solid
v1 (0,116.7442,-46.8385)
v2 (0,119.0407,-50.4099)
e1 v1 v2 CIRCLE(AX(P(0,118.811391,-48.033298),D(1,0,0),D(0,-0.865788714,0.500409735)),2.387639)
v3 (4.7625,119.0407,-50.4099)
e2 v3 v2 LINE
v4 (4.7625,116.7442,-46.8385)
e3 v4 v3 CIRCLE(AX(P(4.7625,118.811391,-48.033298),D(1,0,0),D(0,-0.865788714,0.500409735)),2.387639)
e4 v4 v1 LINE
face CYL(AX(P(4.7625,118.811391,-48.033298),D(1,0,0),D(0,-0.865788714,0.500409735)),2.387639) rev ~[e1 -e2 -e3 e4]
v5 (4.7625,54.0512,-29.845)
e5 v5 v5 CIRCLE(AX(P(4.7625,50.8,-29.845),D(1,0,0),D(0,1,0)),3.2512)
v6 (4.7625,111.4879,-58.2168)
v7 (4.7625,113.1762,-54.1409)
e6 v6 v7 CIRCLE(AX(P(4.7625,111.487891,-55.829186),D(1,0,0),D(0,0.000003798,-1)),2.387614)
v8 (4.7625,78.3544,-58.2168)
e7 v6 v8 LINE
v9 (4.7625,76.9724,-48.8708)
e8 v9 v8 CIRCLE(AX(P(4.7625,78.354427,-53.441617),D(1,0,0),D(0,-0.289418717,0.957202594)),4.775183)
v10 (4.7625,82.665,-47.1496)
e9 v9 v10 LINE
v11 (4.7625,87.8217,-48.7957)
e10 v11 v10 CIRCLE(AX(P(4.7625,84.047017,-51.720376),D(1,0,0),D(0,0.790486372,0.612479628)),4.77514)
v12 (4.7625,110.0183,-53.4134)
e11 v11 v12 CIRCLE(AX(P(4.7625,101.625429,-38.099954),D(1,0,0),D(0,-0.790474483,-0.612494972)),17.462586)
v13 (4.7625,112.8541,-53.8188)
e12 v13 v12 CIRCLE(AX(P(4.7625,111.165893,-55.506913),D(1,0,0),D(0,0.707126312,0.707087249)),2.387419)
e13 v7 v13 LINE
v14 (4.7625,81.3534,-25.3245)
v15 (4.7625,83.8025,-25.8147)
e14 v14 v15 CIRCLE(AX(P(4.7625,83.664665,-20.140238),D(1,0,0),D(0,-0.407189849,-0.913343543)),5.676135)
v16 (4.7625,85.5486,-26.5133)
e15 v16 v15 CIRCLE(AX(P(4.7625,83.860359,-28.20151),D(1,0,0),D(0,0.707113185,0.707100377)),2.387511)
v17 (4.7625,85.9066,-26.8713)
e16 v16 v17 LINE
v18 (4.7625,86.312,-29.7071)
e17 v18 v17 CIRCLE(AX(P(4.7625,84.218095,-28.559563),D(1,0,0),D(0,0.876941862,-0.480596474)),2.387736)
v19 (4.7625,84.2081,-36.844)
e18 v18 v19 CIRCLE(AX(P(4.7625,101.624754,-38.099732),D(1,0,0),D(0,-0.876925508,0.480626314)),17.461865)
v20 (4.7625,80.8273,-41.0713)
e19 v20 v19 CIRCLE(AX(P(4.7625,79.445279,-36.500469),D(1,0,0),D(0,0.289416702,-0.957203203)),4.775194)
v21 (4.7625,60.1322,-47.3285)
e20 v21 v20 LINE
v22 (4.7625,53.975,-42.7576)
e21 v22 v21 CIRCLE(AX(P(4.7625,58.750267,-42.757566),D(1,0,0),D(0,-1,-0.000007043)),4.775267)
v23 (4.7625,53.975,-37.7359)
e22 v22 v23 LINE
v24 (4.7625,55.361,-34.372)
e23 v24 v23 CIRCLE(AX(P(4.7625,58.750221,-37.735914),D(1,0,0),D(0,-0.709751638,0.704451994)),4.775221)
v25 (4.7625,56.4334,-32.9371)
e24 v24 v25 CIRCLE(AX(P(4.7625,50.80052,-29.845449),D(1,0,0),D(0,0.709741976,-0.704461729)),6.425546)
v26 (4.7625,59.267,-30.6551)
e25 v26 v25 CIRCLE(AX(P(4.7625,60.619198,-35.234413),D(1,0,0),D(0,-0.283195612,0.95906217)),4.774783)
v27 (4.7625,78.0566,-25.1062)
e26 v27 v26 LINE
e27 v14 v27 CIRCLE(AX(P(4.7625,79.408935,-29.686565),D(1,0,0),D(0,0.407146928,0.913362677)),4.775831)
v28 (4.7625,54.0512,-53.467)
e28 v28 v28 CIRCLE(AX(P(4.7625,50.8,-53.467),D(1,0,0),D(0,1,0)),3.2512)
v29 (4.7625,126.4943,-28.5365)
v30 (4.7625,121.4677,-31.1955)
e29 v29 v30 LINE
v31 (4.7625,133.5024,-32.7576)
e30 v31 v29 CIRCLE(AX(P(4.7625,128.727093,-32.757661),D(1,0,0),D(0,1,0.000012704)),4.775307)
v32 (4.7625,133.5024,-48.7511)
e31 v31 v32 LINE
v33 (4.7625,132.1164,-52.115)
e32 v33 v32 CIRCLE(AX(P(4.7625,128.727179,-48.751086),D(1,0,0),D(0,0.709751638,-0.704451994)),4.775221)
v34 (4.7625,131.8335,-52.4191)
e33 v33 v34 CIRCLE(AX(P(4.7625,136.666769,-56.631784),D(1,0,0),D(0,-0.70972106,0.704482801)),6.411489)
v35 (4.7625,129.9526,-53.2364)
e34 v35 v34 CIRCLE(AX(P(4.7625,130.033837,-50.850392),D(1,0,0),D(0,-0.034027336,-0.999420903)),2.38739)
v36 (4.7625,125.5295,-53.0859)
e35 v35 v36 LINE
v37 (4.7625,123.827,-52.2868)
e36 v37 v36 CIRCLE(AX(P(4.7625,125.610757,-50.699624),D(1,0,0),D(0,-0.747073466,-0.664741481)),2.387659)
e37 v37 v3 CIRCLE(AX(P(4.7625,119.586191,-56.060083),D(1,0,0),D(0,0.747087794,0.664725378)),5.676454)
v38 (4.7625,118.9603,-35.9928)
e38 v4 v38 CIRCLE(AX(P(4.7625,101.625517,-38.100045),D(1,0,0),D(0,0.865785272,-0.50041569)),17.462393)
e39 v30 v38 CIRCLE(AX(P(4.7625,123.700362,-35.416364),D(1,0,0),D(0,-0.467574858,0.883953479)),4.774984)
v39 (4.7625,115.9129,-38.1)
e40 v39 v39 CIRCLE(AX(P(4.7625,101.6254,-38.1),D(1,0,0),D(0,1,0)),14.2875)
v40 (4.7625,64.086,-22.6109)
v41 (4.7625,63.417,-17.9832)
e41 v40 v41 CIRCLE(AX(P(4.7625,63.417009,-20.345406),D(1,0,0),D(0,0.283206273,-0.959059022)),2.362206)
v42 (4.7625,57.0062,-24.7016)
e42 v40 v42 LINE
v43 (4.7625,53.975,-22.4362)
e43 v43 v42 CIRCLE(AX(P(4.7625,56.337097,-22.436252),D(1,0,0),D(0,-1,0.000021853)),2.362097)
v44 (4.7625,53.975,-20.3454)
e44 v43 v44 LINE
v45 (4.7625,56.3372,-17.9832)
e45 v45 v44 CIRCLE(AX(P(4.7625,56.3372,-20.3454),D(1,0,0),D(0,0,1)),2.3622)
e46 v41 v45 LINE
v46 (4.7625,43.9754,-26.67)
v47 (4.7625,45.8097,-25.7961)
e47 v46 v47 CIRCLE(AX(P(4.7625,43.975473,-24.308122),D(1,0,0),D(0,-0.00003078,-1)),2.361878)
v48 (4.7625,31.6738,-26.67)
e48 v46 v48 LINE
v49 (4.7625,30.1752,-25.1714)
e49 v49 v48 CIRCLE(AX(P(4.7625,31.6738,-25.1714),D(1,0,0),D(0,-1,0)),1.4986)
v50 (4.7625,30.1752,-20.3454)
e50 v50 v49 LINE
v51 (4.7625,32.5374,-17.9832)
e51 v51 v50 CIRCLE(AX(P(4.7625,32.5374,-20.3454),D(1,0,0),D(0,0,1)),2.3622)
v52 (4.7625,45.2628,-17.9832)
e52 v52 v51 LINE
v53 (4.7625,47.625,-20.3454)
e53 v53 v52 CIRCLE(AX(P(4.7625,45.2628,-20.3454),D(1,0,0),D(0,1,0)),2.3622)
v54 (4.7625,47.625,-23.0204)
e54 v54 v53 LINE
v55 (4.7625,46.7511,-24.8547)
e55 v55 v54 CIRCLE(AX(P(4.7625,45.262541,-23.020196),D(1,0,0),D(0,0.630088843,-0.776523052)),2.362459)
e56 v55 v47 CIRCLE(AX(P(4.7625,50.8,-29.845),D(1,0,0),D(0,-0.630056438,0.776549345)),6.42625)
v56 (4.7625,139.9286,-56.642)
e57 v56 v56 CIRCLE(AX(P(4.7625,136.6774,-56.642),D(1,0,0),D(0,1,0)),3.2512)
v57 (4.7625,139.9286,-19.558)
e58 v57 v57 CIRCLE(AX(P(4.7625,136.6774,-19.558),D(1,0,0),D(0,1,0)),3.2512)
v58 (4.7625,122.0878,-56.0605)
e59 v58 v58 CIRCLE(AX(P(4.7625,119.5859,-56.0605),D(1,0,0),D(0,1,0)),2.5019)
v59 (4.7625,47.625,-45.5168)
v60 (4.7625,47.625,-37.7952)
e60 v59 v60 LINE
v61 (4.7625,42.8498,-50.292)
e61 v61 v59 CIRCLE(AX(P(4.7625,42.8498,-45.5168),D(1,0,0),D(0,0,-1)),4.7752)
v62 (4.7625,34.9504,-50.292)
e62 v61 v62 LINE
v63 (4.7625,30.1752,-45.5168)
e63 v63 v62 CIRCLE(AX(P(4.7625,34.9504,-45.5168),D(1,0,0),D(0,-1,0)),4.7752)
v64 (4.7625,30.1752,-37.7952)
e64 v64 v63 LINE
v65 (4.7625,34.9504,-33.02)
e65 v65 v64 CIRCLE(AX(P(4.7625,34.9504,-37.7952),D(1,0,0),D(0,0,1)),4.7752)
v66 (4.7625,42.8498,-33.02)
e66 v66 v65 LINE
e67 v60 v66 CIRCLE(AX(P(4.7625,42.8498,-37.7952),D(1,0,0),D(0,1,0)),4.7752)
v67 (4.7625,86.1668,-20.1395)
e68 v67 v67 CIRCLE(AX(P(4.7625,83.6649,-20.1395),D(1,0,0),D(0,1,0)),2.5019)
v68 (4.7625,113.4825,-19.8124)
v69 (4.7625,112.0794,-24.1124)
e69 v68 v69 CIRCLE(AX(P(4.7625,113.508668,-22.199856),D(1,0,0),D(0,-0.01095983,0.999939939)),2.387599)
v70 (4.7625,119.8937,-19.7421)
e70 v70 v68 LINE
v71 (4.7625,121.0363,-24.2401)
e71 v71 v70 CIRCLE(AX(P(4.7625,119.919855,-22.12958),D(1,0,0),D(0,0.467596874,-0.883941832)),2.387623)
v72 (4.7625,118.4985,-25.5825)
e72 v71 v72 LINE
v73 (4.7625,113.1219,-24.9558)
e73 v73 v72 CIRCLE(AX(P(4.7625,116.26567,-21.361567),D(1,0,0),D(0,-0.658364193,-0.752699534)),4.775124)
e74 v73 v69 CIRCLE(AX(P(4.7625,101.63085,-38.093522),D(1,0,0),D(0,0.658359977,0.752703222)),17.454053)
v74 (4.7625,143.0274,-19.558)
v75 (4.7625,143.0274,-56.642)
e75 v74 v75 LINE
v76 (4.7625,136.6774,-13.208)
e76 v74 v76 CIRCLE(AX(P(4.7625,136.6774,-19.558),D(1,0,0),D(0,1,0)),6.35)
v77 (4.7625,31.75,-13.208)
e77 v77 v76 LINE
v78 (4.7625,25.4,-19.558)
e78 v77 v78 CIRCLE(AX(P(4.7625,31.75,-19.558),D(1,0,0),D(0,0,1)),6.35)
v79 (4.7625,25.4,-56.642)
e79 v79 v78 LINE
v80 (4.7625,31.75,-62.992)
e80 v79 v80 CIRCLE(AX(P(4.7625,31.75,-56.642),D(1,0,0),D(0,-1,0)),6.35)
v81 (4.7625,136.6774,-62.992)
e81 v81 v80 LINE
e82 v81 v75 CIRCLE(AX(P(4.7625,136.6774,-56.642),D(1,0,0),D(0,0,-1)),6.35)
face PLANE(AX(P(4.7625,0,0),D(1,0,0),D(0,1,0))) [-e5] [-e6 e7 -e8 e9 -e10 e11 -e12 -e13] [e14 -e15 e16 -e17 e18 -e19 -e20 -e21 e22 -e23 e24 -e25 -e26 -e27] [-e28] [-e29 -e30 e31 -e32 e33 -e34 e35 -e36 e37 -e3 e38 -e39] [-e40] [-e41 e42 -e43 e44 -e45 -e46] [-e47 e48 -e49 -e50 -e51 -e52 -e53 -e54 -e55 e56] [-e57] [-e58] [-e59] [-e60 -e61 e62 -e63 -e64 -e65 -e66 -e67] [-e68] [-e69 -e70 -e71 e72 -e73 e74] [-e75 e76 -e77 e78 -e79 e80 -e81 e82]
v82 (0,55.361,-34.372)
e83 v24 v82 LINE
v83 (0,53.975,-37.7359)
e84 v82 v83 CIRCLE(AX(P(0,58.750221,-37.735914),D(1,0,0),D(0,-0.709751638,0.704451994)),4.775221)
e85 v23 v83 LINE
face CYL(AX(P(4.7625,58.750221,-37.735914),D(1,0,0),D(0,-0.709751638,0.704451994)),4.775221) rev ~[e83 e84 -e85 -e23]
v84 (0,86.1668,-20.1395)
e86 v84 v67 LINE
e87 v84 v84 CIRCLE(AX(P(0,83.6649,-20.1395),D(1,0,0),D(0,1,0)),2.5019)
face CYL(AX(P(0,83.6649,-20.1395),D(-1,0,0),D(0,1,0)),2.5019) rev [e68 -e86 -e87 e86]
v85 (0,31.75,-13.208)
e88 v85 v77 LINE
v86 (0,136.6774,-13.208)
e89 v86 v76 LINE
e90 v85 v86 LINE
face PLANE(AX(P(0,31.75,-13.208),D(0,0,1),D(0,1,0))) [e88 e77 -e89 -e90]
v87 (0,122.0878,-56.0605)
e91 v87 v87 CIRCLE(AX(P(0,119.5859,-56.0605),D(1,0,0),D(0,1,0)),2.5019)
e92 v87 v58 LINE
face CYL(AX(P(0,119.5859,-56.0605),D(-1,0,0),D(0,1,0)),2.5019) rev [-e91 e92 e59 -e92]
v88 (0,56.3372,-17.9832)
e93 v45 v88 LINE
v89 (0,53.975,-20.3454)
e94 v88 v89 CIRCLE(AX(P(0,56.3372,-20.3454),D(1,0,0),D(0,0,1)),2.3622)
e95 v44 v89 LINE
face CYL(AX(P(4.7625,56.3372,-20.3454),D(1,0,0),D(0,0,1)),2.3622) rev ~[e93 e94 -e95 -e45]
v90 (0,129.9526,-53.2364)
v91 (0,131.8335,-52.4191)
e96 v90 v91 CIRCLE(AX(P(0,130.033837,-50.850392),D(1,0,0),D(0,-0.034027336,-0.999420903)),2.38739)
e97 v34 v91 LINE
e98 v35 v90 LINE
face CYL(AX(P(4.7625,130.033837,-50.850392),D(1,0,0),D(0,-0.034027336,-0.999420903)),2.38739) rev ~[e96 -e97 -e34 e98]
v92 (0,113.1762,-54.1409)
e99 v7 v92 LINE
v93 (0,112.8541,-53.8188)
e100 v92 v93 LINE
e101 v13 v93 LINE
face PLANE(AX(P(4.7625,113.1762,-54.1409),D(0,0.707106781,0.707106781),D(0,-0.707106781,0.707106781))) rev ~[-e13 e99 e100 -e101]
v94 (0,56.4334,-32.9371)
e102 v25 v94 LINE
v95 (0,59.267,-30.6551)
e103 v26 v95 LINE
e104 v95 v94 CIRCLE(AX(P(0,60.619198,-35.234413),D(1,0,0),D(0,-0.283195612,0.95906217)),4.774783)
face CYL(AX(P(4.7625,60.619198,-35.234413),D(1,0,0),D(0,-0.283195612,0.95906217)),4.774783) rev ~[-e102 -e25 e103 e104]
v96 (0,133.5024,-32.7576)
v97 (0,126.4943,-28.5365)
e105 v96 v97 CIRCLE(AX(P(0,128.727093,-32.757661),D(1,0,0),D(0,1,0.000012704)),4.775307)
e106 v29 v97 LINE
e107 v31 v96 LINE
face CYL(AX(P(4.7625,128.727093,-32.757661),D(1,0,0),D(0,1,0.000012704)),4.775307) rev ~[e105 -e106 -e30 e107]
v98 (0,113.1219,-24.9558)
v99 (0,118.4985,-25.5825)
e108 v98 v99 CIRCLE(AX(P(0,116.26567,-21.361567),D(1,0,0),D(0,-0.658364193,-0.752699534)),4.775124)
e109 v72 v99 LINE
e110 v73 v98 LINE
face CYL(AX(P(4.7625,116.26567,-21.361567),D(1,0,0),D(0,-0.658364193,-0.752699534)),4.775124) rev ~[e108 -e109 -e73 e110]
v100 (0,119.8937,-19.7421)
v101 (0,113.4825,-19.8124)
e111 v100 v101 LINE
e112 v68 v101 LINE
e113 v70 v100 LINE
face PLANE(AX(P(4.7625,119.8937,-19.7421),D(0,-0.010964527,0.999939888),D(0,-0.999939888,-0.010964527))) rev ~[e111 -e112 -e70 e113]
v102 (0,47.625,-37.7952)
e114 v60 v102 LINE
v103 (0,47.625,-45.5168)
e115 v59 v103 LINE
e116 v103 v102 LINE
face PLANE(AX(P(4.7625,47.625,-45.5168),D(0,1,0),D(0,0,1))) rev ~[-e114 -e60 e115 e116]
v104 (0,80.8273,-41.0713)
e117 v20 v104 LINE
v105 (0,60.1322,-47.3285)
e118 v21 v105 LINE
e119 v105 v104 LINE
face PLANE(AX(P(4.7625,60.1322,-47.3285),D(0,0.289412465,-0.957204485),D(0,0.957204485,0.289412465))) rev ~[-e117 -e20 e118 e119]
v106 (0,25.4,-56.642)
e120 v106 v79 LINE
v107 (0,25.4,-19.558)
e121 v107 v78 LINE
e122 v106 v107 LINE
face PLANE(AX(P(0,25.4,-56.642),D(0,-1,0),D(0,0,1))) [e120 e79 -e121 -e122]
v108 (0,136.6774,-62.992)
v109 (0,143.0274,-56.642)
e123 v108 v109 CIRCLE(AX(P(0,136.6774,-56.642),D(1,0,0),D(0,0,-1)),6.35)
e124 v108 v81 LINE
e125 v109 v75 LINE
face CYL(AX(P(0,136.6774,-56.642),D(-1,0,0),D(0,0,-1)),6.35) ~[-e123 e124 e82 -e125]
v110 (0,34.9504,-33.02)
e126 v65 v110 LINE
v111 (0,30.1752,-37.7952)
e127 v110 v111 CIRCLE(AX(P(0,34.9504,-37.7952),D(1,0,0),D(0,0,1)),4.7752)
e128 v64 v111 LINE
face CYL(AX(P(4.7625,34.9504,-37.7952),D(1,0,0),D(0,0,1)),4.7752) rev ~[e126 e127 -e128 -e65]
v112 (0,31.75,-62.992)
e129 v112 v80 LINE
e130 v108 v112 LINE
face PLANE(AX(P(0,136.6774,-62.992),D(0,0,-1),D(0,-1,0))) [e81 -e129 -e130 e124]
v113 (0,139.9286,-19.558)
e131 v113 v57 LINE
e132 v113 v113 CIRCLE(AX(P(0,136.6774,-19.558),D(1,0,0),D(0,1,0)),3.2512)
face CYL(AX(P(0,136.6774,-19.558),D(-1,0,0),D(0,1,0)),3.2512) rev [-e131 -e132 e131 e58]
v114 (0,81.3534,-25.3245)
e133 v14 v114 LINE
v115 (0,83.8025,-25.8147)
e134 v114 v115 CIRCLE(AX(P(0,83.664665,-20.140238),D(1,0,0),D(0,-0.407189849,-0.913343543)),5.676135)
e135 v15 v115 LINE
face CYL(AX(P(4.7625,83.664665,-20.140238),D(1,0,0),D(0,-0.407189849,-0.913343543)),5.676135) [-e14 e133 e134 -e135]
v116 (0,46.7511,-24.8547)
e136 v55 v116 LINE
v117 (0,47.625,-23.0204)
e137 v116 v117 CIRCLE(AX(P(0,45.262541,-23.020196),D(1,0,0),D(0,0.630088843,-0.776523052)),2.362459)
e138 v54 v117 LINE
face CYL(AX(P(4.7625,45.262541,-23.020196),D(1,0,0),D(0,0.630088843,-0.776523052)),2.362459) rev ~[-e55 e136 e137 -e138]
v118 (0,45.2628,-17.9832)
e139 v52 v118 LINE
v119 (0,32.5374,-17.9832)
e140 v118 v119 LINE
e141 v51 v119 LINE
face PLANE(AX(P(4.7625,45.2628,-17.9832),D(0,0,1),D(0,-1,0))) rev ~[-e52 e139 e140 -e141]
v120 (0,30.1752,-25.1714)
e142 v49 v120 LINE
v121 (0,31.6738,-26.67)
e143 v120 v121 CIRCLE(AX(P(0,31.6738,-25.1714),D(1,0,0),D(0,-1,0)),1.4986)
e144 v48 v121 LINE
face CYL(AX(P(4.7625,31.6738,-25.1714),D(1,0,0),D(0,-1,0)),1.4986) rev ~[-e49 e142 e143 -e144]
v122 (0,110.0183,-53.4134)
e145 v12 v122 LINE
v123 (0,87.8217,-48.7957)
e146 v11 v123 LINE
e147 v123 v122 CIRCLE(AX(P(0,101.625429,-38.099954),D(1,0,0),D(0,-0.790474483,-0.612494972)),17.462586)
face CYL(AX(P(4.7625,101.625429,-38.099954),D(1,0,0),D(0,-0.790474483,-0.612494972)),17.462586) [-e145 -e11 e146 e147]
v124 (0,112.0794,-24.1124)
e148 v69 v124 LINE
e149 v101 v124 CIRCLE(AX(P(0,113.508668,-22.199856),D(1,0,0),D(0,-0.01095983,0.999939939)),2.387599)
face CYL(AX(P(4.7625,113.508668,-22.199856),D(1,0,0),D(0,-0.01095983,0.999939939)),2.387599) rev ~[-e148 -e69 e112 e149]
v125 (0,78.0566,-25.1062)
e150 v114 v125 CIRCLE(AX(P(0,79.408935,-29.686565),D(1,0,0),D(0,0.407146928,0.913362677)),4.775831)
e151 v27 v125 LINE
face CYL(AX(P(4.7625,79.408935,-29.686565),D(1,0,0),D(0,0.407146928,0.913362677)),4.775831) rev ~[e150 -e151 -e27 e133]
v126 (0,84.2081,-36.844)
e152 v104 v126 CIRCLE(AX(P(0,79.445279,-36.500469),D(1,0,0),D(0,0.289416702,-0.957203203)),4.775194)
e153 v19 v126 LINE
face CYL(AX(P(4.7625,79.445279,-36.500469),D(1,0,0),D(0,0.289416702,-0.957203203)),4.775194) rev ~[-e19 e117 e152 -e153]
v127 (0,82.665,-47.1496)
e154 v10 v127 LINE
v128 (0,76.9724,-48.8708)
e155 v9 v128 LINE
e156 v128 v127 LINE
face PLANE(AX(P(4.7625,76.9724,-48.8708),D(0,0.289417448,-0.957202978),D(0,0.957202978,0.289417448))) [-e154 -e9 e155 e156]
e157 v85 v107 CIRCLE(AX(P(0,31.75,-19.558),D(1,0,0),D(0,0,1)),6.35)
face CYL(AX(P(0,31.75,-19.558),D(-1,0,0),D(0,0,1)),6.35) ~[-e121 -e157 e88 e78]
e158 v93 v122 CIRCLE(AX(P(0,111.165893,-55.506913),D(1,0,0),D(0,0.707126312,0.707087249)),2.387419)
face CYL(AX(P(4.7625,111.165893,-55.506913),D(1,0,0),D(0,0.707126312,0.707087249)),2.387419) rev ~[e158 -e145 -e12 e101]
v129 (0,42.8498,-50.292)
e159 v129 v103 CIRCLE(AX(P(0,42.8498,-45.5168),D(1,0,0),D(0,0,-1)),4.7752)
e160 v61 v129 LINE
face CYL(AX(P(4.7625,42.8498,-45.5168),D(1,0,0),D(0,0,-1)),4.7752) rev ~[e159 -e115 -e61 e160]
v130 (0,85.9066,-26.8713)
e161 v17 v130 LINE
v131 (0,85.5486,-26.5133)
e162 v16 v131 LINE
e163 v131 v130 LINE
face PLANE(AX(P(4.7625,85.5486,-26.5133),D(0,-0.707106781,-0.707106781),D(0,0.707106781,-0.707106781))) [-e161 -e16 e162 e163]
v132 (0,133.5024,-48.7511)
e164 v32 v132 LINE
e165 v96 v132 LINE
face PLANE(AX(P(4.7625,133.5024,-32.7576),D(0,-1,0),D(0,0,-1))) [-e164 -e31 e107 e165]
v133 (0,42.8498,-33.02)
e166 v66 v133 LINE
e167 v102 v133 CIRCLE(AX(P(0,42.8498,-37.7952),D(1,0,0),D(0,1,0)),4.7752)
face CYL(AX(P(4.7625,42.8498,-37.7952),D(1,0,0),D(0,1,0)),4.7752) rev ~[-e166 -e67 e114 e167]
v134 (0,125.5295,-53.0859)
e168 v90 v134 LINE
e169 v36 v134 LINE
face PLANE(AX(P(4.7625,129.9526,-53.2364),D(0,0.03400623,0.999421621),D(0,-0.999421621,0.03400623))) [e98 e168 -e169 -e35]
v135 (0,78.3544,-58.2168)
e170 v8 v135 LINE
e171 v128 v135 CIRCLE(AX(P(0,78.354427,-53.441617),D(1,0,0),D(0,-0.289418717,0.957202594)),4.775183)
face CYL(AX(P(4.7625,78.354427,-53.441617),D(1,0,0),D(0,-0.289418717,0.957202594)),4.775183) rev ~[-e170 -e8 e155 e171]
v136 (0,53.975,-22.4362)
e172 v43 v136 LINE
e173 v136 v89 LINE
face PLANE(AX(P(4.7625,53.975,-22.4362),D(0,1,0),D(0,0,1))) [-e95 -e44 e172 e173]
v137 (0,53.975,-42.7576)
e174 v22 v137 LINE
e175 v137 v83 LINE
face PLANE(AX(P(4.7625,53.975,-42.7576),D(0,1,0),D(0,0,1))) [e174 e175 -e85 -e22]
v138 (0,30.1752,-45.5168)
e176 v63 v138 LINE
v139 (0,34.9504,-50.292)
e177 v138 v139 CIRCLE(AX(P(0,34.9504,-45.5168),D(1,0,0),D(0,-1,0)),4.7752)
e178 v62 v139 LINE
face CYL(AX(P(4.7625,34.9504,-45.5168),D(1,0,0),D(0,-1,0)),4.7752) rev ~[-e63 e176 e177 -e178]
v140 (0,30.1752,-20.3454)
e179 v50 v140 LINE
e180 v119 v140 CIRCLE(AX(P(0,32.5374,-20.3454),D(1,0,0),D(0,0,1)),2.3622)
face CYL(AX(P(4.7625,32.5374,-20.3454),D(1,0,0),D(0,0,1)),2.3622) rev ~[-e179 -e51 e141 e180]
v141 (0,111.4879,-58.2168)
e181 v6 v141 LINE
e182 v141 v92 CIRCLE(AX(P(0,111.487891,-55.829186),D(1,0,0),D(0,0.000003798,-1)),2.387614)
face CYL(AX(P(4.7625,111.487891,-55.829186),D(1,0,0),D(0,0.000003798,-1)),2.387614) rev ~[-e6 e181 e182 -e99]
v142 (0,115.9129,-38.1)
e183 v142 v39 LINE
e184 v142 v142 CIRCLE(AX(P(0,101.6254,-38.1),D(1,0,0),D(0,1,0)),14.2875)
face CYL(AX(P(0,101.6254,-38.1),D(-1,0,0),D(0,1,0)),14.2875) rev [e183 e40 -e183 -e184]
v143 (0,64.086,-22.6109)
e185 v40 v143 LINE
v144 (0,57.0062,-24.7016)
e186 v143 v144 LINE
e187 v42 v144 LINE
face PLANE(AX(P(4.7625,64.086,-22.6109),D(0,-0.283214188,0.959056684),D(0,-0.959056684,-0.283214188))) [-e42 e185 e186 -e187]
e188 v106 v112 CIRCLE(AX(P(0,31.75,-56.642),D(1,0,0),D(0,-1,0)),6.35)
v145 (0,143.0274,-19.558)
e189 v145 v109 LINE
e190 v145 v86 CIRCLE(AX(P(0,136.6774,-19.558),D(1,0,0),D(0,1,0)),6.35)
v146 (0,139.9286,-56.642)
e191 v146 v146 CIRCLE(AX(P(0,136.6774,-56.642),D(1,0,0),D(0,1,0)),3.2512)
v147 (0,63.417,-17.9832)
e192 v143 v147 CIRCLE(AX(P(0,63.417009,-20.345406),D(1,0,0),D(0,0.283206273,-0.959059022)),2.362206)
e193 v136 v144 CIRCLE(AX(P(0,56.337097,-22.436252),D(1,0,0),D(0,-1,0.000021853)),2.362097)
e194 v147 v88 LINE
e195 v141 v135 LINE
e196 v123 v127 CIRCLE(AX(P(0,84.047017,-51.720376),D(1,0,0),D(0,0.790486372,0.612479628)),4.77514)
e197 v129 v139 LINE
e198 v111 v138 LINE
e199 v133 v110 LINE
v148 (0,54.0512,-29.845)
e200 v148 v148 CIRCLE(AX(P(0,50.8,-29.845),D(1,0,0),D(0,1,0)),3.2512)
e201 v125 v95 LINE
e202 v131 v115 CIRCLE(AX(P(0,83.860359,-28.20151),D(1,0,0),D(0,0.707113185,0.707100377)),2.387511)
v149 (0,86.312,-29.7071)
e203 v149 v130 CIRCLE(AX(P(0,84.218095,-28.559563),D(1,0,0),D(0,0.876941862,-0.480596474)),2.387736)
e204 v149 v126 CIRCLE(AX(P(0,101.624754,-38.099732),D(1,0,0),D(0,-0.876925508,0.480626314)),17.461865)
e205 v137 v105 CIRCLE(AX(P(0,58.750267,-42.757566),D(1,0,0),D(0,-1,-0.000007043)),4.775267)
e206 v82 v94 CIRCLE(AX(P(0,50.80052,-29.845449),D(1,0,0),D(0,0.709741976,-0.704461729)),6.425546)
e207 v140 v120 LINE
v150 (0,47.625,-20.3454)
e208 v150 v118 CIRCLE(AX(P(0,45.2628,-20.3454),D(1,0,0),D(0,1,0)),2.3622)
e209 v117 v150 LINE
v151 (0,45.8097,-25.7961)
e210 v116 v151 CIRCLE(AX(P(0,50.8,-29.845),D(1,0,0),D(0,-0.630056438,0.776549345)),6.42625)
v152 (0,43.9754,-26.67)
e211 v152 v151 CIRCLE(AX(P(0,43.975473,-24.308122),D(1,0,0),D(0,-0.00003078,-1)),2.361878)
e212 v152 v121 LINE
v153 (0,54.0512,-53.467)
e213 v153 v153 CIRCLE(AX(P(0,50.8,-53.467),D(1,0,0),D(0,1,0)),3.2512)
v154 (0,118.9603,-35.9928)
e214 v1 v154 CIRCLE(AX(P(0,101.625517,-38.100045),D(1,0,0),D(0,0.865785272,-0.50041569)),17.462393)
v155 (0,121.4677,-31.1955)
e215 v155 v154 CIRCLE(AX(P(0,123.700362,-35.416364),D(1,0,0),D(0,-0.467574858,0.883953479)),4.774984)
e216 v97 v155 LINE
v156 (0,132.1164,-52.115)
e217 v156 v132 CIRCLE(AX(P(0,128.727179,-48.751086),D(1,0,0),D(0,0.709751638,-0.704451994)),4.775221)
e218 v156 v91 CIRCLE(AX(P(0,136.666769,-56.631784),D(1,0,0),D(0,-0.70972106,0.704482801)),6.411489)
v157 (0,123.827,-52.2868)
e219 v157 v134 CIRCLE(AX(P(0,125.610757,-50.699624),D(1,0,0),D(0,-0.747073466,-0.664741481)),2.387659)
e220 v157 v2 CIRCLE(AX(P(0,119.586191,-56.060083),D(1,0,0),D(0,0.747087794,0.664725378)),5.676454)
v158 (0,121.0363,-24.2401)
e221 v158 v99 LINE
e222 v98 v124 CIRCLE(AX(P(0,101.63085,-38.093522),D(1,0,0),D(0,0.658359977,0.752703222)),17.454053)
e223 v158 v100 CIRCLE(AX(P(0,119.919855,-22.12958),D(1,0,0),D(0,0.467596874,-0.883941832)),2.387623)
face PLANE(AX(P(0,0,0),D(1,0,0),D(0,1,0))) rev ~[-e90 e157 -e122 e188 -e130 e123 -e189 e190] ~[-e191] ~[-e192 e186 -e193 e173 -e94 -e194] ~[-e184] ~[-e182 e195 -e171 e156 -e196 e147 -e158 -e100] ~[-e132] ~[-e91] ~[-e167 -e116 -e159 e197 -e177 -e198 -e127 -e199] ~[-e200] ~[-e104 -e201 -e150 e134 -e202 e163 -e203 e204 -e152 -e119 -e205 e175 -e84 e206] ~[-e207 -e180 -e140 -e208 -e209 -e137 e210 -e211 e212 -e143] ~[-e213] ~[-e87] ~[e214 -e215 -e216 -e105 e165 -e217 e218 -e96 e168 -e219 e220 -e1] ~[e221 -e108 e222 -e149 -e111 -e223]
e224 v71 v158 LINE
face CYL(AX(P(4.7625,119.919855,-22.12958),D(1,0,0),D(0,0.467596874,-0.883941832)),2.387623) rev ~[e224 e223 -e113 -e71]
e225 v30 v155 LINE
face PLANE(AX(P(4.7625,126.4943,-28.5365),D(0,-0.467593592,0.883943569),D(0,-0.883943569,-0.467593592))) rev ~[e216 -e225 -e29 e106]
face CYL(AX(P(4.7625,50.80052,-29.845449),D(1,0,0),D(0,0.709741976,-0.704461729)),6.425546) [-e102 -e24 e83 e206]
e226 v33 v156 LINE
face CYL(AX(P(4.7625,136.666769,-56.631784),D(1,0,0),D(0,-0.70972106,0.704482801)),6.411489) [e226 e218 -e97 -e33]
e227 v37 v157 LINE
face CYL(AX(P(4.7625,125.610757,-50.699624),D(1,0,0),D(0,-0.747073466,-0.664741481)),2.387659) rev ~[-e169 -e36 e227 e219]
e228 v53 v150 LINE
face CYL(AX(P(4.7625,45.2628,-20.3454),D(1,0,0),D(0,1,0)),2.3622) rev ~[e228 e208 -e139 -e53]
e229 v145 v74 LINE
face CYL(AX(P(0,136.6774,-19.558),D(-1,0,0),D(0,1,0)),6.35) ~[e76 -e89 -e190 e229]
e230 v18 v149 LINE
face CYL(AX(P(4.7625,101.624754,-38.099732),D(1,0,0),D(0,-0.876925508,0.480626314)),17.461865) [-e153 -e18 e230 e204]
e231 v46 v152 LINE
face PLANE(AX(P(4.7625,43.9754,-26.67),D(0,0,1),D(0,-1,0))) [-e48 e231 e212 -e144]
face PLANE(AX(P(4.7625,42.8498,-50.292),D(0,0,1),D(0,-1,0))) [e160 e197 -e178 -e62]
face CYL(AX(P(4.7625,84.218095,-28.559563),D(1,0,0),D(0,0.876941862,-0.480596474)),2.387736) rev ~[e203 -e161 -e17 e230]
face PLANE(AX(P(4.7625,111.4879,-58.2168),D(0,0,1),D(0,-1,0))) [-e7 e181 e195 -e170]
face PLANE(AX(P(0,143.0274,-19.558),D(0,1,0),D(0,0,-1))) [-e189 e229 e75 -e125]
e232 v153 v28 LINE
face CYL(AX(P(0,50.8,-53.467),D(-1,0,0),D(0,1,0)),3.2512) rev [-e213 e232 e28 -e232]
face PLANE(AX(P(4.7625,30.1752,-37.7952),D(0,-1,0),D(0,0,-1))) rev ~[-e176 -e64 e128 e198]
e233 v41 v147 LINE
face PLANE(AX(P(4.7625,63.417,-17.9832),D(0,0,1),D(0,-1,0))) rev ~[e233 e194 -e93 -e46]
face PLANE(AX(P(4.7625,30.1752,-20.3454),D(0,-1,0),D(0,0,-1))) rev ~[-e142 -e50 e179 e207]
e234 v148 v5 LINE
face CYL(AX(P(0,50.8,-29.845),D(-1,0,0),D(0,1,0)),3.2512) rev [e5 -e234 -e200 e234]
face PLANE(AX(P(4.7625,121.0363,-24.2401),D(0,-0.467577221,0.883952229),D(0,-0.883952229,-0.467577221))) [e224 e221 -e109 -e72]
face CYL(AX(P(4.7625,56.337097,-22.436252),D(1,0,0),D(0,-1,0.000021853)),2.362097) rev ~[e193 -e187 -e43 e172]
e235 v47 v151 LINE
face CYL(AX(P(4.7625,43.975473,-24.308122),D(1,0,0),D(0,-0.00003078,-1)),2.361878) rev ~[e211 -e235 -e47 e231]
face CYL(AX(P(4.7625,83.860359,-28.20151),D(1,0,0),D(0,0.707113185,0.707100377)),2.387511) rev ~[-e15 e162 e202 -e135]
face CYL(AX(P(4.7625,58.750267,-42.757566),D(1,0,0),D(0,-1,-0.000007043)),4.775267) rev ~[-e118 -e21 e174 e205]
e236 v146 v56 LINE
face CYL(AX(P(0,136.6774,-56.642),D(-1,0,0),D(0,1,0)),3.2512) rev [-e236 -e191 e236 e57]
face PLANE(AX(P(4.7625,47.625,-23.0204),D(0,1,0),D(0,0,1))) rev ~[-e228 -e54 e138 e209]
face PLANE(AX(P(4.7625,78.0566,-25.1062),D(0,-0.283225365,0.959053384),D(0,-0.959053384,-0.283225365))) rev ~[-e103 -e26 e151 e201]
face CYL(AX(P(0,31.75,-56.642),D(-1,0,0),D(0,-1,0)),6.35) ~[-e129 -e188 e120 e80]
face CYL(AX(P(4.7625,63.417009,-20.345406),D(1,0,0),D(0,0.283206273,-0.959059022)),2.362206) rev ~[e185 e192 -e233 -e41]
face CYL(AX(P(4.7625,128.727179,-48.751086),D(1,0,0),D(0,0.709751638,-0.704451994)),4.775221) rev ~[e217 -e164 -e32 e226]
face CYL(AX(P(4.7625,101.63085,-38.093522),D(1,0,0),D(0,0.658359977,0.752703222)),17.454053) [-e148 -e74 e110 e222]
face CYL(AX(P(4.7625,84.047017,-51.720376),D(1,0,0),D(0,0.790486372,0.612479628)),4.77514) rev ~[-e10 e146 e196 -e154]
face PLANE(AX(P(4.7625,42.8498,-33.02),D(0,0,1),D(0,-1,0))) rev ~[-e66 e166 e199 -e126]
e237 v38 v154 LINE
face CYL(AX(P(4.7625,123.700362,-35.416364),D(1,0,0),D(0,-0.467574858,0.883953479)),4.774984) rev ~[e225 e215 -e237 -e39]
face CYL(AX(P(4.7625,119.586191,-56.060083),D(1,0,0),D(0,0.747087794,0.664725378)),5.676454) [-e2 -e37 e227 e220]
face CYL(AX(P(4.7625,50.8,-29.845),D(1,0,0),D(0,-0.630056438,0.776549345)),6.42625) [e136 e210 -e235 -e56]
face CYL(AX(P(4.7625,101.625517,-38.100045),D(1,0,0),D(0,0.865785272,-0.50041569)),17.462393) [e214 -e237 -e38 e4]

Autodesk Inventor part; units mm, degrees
ref_plane "YZ Plane" through (0, 0, 0) normal (1, 0, 0) x (0, 1, 0)
ref_plane "XZ Plane" through (0, 0, 0) normal (0, 1, 0) x (-1, 0, 0)
ref_plane "XY Plane" through (0, 0, 0) normal (0, 0, 1) x (1, 0, 0)
sketch "Sketch1" plane through (0, 0, 0) normal (1, 0, 0) x (0, 1, 0)
  line L0 (0, 0) -> (457.2, 0) construction
  line L1 (457.2, 0) -> (457.2, 25.4) construction
  line L2 (457.2, 25.4) -> (0, 25.4) construction
  line L3 (0, 25.4) -> (0, 0) construction
  line L4 (0, 0) -> (25.4, 0) construction
  line L5 (25.4, 0) -> (25.4, -279.4) construction
  line L6 (25.4, -279.4) -> (0, -279.4) construction
  line L7 (0, -279.4) -> (0, 0) construction
  line L8 (0, 0) -> (25.4, 0) construction
  line L9 (25.4, 0) -> (25.4, -19.05) construction
  line L10 (25.4, -19.05) -> (0, -19.05) construction
  line L11 (0, -19.05) -> (0, 0) construction
  line L12 (25.4, -279.4) -> (0, -279.4) construction
  line L13 (0, -279.4) -> (0, -260.35) construction
  line L14 (0, -260.35) -> (25.4, -260.35) construction
  line L15 (25.4, -260.35) -> (25.4, -279.4) construction
  circle A0 centre (101.6254, -38.1) radius 14.2875
  line L16 (83.6649, -20.1395) -> (119.5859, -56.0605) construction
  line L17 (101.6254, -38.1) -> (101.6254, -52.3875) construction
  circle A1 centre (119.5859, -56.0605) radius 2.5019
  circle A2 centre (83.6649, -20.1395) radius 2.5019
  line L18 (25.4, -20.32) -> (57.15, -20.32) construction
  line L19 (57.15, -20.32) -> (57.15, -39.37) construction
  line L20 (57.15, -39.37) -> (25.4, -39.37) construction
  line L21 (25.4, -39.37) -> (25.4, -20.32) construction
  circle A3 centre (50.8, -29.845) radius 3.2512
  circle A4 centre (136.6774, -19.558) radius 6.35 construction
  circle A5 centre (136.6774, -19.558) radius 3.2512
  line L22 (72.9234, -13.208) -> (130.3274, -13.208) construction
  line L23 (130.3274, -13.208) -> (130.3274, -62.992) construction
  line L24 (130.3274, -62.992) -> (72.9234, -62.992) construction
  line L25 (72.9234, -62.992) -> (72.9234, -13.208) construction
  line L26 (25.4, -43.942) -> (57.15, -43.942) construction
  line L27 (57.15, -43.942) -> (57.15, -62.992) construction
  line L28 (57.15, -62.992) -> (25.4, -62.992) construction
  line L29 (25.4, -62.992) -> (25.4, -43.942) construction
  circle A6 centre (50.8, -53.467) radius 3.2512
  circle A7 centre (136.6774, -56.642) radius 6.35 construction
  circle A8 centre (136.6774, -56.642) radius 3.2512
  line L30 (136.6774, -62.992) -> (31.75, -62.992)
  line L31 (25.4, -56.642) -> (25.4, -19.558)
  line L32 (31.75, -13.208) -> (136.6774, -13.208)
  arc A9 (31.75, -13.208) -> (25.4, -19.558) centre (31.75, -19.558) ccw
  arc A10 (25.4, -56.642) -> (31.75, -62.992) centre (31.75, -56.642) ccw
  line L33 (143.0274, -19.558) -> (143.0274, -56.642)
  arc A11 (136.6774, -62.992) -> (143.0274, -56.642) centre (136.6774, -56.642) ccw
  arc A12 (143.0274, -19.558) -> (136.6774, -13.208) centre (136.6774, -19.558) ccw
  point P0 (83.6649, -17.6376)
  point P1 (101.6254, -38.1)
  point P2 (101.6254, -62.992)
  point P3 (25.4, -62.992)
  point P4 (25.4, -13.208)
  dimension "d7" = 28.575
  dimension "d14" = 5.0038
  dimension "d0" = 457.2
  dimension "d1" = 25.4
  dimension "d2" = 25.4
  dimension "d3" = 279.4
  dimension "d5" = 19.05
  dimension "d8" = 101.6254
  dimension "d9" = 38.1
  dimension "d10" = 50.8
  dimension "d11" = 25.4
  dimension "d12" = 45
  dimension "d13" = 5.0038
  dimension "d15" = 31.75
  dimension "d16" = 19.05
  dimension "d18" = 6.5024
  dimension "d19" = 9.525
  dimension "d20" = 6.35
  dimension "d27" = 12.7
  dimension "d28" = 6.5024
  dimension "d34" = 49.784
  dimension "d35" = 57.404
  dimension "d36" = 24.892
  dimension "d37" = 28.702
  dimension "d46" = 31.75
  dimension "d47" = 19.05
  dimension "d48" = 6.5024
  dimension "d49" = 9.525
  dimension "d50" = 6.35
  dimension "d51" = 12.7
  dimension "d52" = 6.5024
  dimension "d53" = 6.35
  dimension "d128" = 29.845
  dimension "d129" = 19.05
  dimension "d130" = 53.467
extrude "Extrusion2" add sketch "Sketch1" along normal blind 4.7625
sketch "Sketch2" plane through (4.7625, 0, 0) normal (1, 0, 0) x (0, 0, -1)
  line L0 (13.208, 136.6774) -> (13.208, 31.75) construction
  arc A0 (13.208, 31.75) -> (19.558, 25.4) centre (19.558, 31.75) ccw construction
  line L1 (19.558, 25.4) -> (56.642, 25.4) construction
  arc A1 (56.642, 25.4) -> (62.992, 31.75) centre (56.642, 31.75) ccw construction
  line L2 (62.992, 31.75) -> (62.992, 136.6774) construction
  arc A2 (62.992, 136.6774) -> (56.642, 143.0274) centre (56.642, 136.6774) ccw construction
  line L3 (56.642, 143.0274) -> (19.558, 143.0274) construction
  arc A3 (19.558, 143.0274) -> (13.208, 136.6774) centre (19.558, 136.6774) ccw construction
  circle A4 centre (38.1, 101.6254) radius 14.2875 construction
  circle A5 centre (56.0605, 119.5859) radius 2.5019 construction
  circle A6 centre (20.1395, 83.6649) radius 2.5019 construction
  circle A7 centre (29.845, 50.8) radius 3.2512 construction
  circle A8 centre (53.467, 50.8) radius 3.2512 construction
  circle A9 centre (56.642, 136.6774) radius 3.2512 construction
  circle A10 centre (19.558, 136.6774) radius 3.2512 construction
  line L4 (19.558, 138.2522) -> (56.642, 138.2522) construction
  arc A11 (58.2168, 136.6774) -> (56.642, 138.2522) centre (56.642, 136.6774) ccw construction
  line L5 (58.2168, 136.6774) -> (58.2168, 31.75) construction
  arc A12 (56.642, 30.1752) -> (58.2168, 31.75) centre (56.642, 31.75) ccw construction
  line L6 (56.642, 30.1752) -> (19.558, 30.1752) construction
  arc A13 (17.9832, 31.75) -> (19.558, 30.1752) centre (19.558, 31.75) ccw construction
  line L7 (17.9832, 31.75) -> (17.9832, 136.6774) construction
  arc A14 (19.558, 138.2522) -> (17.9832, 136.6774) centre (19.558, 136.6774) ccw construction
  circle A15 centre (19.558, 136.6774) radius 6.4262 construction
  circle A16 centre (56.642, 136.6774) radius 6.4262 construction
  circle A17 centre (56.0605, 119.5859) radius 5.6769 construction
  circle A18 centre (38.1, 101.6254) radius 17.4625 construction
  circle A19 centre (20.1395, 83.6649) radius 5.6769 construction
  circle A20 centre (29.845, 50.8) radius 6.4262 construction
  circle A21 centre (53.467, 50.8) radius 6.4262 construction
  line L8 (22.5628, 130.997) -> (29.9347, 117.0613) construction
  line L9 (56.4235, 130.2549) -> (56.2535, 125.2595) construction
  line L10 (52.0463, 115.5717) -> (50.4479, 113.9733) construction
  line L11 (53.2364, 129.9526) -> (53.0859, 125.5295)
  line L12 (19.6285, 130.2516) -> (20.0772, 89.3414) construction
  line L13 (28.5365, 126.4943) -> (31.1955, 121.4677)
  line L14 (25.9842, 136.6774) -> (50.2158, 136.6774) construction
  line L15 (32.7576, 133.5024) -> (48.7511, 133.5024)
  arc A22 (46.8385, 116.7442) -> (35.9928, 118.9603) centre (38.1, 101.6254) ccw
  arc A23 (52.2868, 123.827) -> (50.4099, 119.0407) centre (56.0605, 119.5859) ccw
  arc A24 (24.977, 133.2233) -> (25.1451, 133.5024) centre (19.558, 136.6774) ccw
  arc A25 (52.115, 132.1164) -> (52.4191, 131.8335) centre (56.642, 136.6774) ccw
  arc A26 (52.115, 132.1164) -> (48.7511, 133.5024) centre (48.7511, 128.7272) ccw
  arc A27 (32.7576, 133.5024) -> (28.5365, 126.4943) centre (32.7576, 128.7272) ccw
  arc A28 (31.1955, 121.4677) -> (35.9928, 118.9603) centre (35.4166, 123.7006) ccw
  circle A29 centre (48.0333, 118.8113) radius 2.3876 construction
  arc A30 (46.8385, 116.7442) -> (50.4099, 119.0407) centre (48.0333, 118.8113) ccw
  circle A31 centre (50.8502, 130.0338) radius 2.3876 construction
  circle A32 centre (50.6997, 125.6107) radius 2.3876 construction
  arc A33 (53.2364, 129.9526) -> (52.4191, 131.8335) centre (50.8502, 130.0338) ccw
  arc A34 (52.2868, 123.827) -> (53.0859, 125.5295) centre (50.6997, 125.6107) ccw
  line L16 (21.7473, 78.2204) -> (28.0249, 56.9631) construction
  line L17 (47.0408, 50.8) -> (36.2712, 50.8) construction
  line L18 (51.6072, 56.9512) -> (43.1538, 84.9102) construction
  line L19 (23.4188, 50.8) -> (17.9832, 50.8) construction
  line L20 (29.845, 44.3738) -> (29.845, 30.1752) construction
  line L21 (53.467, 44.3738) -> (53.467, 30.1752) construction
  line L22 (45.5168, 47.625) -> (37.7952, 47.625)
  line L23 (33.02, 42.8498) -> (33.02, 34.9504)
  line L24 (50.292, 42.8498) -> (50.292, 34.9504)
  line L25 (20.6386, 101.4339) -> (19.9447, 101.4263) construction
  line L26 (24.2401, 121.0363) -> (25.5825, 118.4985)
  arc A35 (24.9558, 113.1219) -> (24.1124, 112.0794) centre (38.1, 101.6254) ccw
  line L27 (19.7421, 119.8937) -> (19.8124, 113.4825)
  circle A36 centre (22.1296, 119.9199) radius 2.3876 construction
  arc A37 (24.9558, 113.1219) -> (25.5825, 118.4985) centre (21.3615, 116.2657) ccw
  arc A38 (24.2401, 121.0363) -> (19.7421, 119.8937) centre (22.1296, 119.9199) ccw
  circle A39 centre (22.1999, 113.5087) radius 2.3876 construction
  arc A40 (19.8124, 113.4825) -> (24.1124, 112.0794) centre (22.1999, 113.5087) ccw
  arc A41 (33.02, 45.2129) -> (35.4321, 47.625) centre (29.845, 50.8) ccw construction
  line L28 (37.7952, 30.1752) -> (45.5168, 30.1752)
  arc A42 (33.02, 45.2129) -> (35.4321, 47.625) centre (29.845, 50.8) ccw construction
  arc A43 (47.8799, 47.625) -> (50.292, 45.2129) centre (53.467, 50.8) ccw construction
  arc A44 (37.7952, 47.625) -> (33.02, 42.8498) centre (37.7952, 42.8498) ccw
  arc A45 (50.292, 42.8498) -> (45.5168, 47.625) centre (45.5168, 42.8498) ccw
  arc A46 (33.02, 34.9504) -> (37.7952, 30.1752) centre (37.7952, 34.9504) ccw
  arc A47 (45.5168, 30.1752) -> (50.292, 34.9504) centre (45.5168, 34.9504) ccw
  line L29 (23.0204, 47.625) -> (20.3454, 47.625)
  line L30 (26.67, 43.9754) -> (26.67, 31.6738)
  line L31 (17.9832, 45.2628) -> (17.9832, 32.5374)
  line L32 (20.3454, 30.1752) -> (25.1714, 30.1752)
  circle A48 centre (25.1714, 31.6738) radius 1.4986 construction
  arc A49 (25.1714, 30.1752) -> (26.67, 31.6738) centre (25.1714, 31.6738) ccw
  arc A50 (17.9832, 32.5374) -> (20.3454, 30.1752) centre (20.3454, 32.5374) ccw
  arc A51 (24.8547, 46.7511) -> (25.7961, 45.8097) centre (29.845, 50.8) ccw
  arc A52 (24.8547, 46.7511) -> (23.0204, 47.625) centre (23.0204, 45.2628) ccw
  arc A53 (26.67, 43.9754) -> (25.7961, 45.8097) centre (24.3078, 43.9754) ccw
  arc A54 (20.3454, 47.625) -> (17.9832, 45.2628) centre (20.3454, 45.2628) ccw
  line L33 (24.1537, 87.6791) -> (25.7521, 89.2775) construction
  line L34 (26.5133, 85.5486) -> (26.8713, 85.9066)
  line L35 (47.3285, 60.1322) -> (41.0713, 80.8273)
  line L36 (25.1062, 78.0566) -> (30.6551, 59.267)
  line L37 (42.7576, 53.975) -> (37.7359, 53.975)
  arc A55 (29.7071, 86.312) -> (36.844, 84.2081) centre (38.1, 101.6254) ccw
  arc A56 (25.3245, 81.3534) -> (25.8147, 83.8025) centre (20.1395, 83.6649) ccw
  arc A57 (34.372, 55.361) -> (32.9371, 56.4334) centre (29.845, 50.8) ccw
  arc A58 (48.8109, 55.2291) -> (47.8799, 53.975) centre (53.467, 50.8) ccw construction
  arc A59 (41.0713, 80.8273) -> (36.844, 84.2081) centre (36.5005, 79.4453) ccw
  arc A60 (42.7576, 53.975) -> (47.3285, 60.1322) centre (42.7576, 58.7502) ccw
  arc A61 (34.372, 55.361) -> (37.7359, 53.975) centre (37.7359, 58.7502) ccw
  arc A62 (30.6551, 59.267) -> (32.9371, 56.4334) centre (35.2348, 60.6194) ccw
  circle A63 centre (28.5596, 84.2183) radius 2.3876 construction
  arc A64 (25.3245, 81.3534) -> (25.1062, 78.0566) centre (29.6859, 79.4091) ccw
  circle A65 centre (28.2016, 83.8603) radius 2.3876 construction
  arc A66 (29.7071, 86.312) -> (26.8713, 85.9066) centre (28.5596, 84.2183) ccw
  arc A67 (26.5133, 85.5486) -> (25.8147, 83.8025) centre (28.2016, 83.8603) ccw
  line L38 (54.1409, 113.1762) -> (53.8188, 112.8541)
  line L39 (48.8708, 76.9724) -> (47.1496, 82.665)
  line L40 (58.2168, 111.4879) -> (58.2168, 78.3544)
  arc A68 (58.2168, 55.1284) -> (54.8892, 57.0669) centre (53.467, 50.8) ccw construction
  arc A69 (48.7957, 87.8217) -> (53.4134, 110.0183) centre (38.1, 101.6254) ccw
  arc A70 (48.7957, 87.8217) -> (47.1496, 82.665) centre (51.7204, 84.047) ccw
  arc A71 (48.8708, 76.9724) -> (58.2168, 78.3544) centre (53.4416, 78.3544) ccw
  circle A72 centre (55.5071, 111.1658) radius 2.3876 construction
  circle A73 centre (55.8292, 111.4879) radius 2.3876 construction
  arc A74 (58.2168, 111.4879) -> (54.1409, 113.1762) centre (55.8292, 111.4879) ccw
  arc A75 (53.8188, 112.8541) -> (53.4134, 110.0183) centre (55.5071, 111.1658) ccw
  line L41 (22.6109, 64.086) -> (24.7016, 57.0062)
  line L42 (22.4362, 53.975) -> (20.3454, 53.975)
  line L43 (17.9832, 63.417) -> (17.9832, 56.3372)
  arc A76 (17.9832, 78.4134) -> (18.4273, 78.2523) centre (20.1395, 83.6649) ccw
  arc A77 (25.2176, 55.2591) -> (24.2579, 53.975) centre (29.845, 50.8) ccw
  arc A78 (22.4362, 53.975) -> (24.7016, 57.0062) centre (22.4362, 56.3372) ccw
  arc A79 (17.9832, 56.3372) -> (20.3454, 53.975) centre (20.3454, 56.3372) ccw
  arc A80 (22.6109, 64.086) -> (17.9832, 63.417) centre (20.3454, 63.417) ccw
  point P0 (0, 0)
  point P1 (32.8773, 118.2886)
  point P2 (51.0549, 133.5024)
  point P3 (33.02, 30.1752)
  point P4 (50.292, 30.1752)
  point P5 (27.2642, 115.3194)
  point P6 (50.292, 45.2129)
  point P7 (33.02, 30.1752)
  point P8 (24.2579, 47.625)
  point P9 (17.9832, 47.625)
  point P10 (26.67, 45.2129)
  point P11 (17.9832, 30.1752)
  point P12 (40.0305, 84.2699)
  point P13 (24.5173, 80.0508)
  point P14 (31.3076, 57.0575)
  point P15 (35.4321, 53.975)
  point P16 (46.1087, 86.1077)
  point P17 (17.9832, 53.975)
  dimension "d56" = 4.7752
  dimension "d57" = 3.175
  dimension "d58" = 3.175
  dimension "d59" = 3.175
  dimension "d60" = 3.175
  dimension "d61" = 3.175
  dimension "d62" = 3.175
  dimension "d63" = 3.175
  dimension "d65" = 3.175
  dimension "d69" = 3.175
  dimension "d70" = 3.175
  dimension "d71" = 4.7752
  dimension "d72" = 4.7752
  dimension "d73" = 4.7752
  dimension "d74" = 4.7752
  dimension "d75" = 3.175
  dimension "d76" = 3.175
  dimension "d77" = 3.175
  dimension "d79" = 3.175
  dimension "d80" = 4.7752
  dimension "d81" = 4.7752
  dimension "d82" = 4.7752
  dimension "d87" = 4.7752
  dimension "d88" = 4.7752
  dimension "d89" = 3.175
  dimension "d90" = 3.175
  dimension "d91" = 2.9972
  dimension "d92" = 2.3622
  dimension "d93" = 2.3622
  dimension "d94" = 2.3622
  dimension "d95" = 3.175
  dimension "d96" = 3.175
  dimension "d97" = 3.175
  dimension "d98" = 3.175
  dimension "d99" = 4.7752
  dimension "d100" = 4.7752
  dimension "d101" = 4.7752
  dimension "d102" = 4.7752
  dimension "d113" = 3.175
  dimension "d114" = 3.175
  dimension "d115" = 4.7752
  dimension "d116" = 4.7752
  dimension "d117" = 4.7752
  dimension "d118" = 4.7752
  dimension "d119" = 3.175
  dimension "d120" = 3.175
  dimension "d124" = 2.3622
  dimension "d125" = 2.3622
extrude "Extrusion3" cut sketch "Sketch2" against normal blind 4.7625 contours L11 A34 A23 A30 A22 A28 L13 A27 L15 A26 A25 A33 | A45 L24 A47 L28 A46 L23 A44 L22 | L26 A37 A35 A40 L27 A38 | A52 A51 A53 L30 A49 L32 A50 L31 A54 L29 | L34 A66 A55 A59 L35 A60 L37 A61 A57 A62 L36 A64 A56 A67
extrude "Extrusion4" cut sketch "Sketch2" against normal blind 4.7625 contours A74 L40 A71 L39 A70 A69 A75 L38 | L41 A78 L42 A79 L43 A80
properties part number "INTK_008_EncoderBracket" material "Aluminum 6061"
